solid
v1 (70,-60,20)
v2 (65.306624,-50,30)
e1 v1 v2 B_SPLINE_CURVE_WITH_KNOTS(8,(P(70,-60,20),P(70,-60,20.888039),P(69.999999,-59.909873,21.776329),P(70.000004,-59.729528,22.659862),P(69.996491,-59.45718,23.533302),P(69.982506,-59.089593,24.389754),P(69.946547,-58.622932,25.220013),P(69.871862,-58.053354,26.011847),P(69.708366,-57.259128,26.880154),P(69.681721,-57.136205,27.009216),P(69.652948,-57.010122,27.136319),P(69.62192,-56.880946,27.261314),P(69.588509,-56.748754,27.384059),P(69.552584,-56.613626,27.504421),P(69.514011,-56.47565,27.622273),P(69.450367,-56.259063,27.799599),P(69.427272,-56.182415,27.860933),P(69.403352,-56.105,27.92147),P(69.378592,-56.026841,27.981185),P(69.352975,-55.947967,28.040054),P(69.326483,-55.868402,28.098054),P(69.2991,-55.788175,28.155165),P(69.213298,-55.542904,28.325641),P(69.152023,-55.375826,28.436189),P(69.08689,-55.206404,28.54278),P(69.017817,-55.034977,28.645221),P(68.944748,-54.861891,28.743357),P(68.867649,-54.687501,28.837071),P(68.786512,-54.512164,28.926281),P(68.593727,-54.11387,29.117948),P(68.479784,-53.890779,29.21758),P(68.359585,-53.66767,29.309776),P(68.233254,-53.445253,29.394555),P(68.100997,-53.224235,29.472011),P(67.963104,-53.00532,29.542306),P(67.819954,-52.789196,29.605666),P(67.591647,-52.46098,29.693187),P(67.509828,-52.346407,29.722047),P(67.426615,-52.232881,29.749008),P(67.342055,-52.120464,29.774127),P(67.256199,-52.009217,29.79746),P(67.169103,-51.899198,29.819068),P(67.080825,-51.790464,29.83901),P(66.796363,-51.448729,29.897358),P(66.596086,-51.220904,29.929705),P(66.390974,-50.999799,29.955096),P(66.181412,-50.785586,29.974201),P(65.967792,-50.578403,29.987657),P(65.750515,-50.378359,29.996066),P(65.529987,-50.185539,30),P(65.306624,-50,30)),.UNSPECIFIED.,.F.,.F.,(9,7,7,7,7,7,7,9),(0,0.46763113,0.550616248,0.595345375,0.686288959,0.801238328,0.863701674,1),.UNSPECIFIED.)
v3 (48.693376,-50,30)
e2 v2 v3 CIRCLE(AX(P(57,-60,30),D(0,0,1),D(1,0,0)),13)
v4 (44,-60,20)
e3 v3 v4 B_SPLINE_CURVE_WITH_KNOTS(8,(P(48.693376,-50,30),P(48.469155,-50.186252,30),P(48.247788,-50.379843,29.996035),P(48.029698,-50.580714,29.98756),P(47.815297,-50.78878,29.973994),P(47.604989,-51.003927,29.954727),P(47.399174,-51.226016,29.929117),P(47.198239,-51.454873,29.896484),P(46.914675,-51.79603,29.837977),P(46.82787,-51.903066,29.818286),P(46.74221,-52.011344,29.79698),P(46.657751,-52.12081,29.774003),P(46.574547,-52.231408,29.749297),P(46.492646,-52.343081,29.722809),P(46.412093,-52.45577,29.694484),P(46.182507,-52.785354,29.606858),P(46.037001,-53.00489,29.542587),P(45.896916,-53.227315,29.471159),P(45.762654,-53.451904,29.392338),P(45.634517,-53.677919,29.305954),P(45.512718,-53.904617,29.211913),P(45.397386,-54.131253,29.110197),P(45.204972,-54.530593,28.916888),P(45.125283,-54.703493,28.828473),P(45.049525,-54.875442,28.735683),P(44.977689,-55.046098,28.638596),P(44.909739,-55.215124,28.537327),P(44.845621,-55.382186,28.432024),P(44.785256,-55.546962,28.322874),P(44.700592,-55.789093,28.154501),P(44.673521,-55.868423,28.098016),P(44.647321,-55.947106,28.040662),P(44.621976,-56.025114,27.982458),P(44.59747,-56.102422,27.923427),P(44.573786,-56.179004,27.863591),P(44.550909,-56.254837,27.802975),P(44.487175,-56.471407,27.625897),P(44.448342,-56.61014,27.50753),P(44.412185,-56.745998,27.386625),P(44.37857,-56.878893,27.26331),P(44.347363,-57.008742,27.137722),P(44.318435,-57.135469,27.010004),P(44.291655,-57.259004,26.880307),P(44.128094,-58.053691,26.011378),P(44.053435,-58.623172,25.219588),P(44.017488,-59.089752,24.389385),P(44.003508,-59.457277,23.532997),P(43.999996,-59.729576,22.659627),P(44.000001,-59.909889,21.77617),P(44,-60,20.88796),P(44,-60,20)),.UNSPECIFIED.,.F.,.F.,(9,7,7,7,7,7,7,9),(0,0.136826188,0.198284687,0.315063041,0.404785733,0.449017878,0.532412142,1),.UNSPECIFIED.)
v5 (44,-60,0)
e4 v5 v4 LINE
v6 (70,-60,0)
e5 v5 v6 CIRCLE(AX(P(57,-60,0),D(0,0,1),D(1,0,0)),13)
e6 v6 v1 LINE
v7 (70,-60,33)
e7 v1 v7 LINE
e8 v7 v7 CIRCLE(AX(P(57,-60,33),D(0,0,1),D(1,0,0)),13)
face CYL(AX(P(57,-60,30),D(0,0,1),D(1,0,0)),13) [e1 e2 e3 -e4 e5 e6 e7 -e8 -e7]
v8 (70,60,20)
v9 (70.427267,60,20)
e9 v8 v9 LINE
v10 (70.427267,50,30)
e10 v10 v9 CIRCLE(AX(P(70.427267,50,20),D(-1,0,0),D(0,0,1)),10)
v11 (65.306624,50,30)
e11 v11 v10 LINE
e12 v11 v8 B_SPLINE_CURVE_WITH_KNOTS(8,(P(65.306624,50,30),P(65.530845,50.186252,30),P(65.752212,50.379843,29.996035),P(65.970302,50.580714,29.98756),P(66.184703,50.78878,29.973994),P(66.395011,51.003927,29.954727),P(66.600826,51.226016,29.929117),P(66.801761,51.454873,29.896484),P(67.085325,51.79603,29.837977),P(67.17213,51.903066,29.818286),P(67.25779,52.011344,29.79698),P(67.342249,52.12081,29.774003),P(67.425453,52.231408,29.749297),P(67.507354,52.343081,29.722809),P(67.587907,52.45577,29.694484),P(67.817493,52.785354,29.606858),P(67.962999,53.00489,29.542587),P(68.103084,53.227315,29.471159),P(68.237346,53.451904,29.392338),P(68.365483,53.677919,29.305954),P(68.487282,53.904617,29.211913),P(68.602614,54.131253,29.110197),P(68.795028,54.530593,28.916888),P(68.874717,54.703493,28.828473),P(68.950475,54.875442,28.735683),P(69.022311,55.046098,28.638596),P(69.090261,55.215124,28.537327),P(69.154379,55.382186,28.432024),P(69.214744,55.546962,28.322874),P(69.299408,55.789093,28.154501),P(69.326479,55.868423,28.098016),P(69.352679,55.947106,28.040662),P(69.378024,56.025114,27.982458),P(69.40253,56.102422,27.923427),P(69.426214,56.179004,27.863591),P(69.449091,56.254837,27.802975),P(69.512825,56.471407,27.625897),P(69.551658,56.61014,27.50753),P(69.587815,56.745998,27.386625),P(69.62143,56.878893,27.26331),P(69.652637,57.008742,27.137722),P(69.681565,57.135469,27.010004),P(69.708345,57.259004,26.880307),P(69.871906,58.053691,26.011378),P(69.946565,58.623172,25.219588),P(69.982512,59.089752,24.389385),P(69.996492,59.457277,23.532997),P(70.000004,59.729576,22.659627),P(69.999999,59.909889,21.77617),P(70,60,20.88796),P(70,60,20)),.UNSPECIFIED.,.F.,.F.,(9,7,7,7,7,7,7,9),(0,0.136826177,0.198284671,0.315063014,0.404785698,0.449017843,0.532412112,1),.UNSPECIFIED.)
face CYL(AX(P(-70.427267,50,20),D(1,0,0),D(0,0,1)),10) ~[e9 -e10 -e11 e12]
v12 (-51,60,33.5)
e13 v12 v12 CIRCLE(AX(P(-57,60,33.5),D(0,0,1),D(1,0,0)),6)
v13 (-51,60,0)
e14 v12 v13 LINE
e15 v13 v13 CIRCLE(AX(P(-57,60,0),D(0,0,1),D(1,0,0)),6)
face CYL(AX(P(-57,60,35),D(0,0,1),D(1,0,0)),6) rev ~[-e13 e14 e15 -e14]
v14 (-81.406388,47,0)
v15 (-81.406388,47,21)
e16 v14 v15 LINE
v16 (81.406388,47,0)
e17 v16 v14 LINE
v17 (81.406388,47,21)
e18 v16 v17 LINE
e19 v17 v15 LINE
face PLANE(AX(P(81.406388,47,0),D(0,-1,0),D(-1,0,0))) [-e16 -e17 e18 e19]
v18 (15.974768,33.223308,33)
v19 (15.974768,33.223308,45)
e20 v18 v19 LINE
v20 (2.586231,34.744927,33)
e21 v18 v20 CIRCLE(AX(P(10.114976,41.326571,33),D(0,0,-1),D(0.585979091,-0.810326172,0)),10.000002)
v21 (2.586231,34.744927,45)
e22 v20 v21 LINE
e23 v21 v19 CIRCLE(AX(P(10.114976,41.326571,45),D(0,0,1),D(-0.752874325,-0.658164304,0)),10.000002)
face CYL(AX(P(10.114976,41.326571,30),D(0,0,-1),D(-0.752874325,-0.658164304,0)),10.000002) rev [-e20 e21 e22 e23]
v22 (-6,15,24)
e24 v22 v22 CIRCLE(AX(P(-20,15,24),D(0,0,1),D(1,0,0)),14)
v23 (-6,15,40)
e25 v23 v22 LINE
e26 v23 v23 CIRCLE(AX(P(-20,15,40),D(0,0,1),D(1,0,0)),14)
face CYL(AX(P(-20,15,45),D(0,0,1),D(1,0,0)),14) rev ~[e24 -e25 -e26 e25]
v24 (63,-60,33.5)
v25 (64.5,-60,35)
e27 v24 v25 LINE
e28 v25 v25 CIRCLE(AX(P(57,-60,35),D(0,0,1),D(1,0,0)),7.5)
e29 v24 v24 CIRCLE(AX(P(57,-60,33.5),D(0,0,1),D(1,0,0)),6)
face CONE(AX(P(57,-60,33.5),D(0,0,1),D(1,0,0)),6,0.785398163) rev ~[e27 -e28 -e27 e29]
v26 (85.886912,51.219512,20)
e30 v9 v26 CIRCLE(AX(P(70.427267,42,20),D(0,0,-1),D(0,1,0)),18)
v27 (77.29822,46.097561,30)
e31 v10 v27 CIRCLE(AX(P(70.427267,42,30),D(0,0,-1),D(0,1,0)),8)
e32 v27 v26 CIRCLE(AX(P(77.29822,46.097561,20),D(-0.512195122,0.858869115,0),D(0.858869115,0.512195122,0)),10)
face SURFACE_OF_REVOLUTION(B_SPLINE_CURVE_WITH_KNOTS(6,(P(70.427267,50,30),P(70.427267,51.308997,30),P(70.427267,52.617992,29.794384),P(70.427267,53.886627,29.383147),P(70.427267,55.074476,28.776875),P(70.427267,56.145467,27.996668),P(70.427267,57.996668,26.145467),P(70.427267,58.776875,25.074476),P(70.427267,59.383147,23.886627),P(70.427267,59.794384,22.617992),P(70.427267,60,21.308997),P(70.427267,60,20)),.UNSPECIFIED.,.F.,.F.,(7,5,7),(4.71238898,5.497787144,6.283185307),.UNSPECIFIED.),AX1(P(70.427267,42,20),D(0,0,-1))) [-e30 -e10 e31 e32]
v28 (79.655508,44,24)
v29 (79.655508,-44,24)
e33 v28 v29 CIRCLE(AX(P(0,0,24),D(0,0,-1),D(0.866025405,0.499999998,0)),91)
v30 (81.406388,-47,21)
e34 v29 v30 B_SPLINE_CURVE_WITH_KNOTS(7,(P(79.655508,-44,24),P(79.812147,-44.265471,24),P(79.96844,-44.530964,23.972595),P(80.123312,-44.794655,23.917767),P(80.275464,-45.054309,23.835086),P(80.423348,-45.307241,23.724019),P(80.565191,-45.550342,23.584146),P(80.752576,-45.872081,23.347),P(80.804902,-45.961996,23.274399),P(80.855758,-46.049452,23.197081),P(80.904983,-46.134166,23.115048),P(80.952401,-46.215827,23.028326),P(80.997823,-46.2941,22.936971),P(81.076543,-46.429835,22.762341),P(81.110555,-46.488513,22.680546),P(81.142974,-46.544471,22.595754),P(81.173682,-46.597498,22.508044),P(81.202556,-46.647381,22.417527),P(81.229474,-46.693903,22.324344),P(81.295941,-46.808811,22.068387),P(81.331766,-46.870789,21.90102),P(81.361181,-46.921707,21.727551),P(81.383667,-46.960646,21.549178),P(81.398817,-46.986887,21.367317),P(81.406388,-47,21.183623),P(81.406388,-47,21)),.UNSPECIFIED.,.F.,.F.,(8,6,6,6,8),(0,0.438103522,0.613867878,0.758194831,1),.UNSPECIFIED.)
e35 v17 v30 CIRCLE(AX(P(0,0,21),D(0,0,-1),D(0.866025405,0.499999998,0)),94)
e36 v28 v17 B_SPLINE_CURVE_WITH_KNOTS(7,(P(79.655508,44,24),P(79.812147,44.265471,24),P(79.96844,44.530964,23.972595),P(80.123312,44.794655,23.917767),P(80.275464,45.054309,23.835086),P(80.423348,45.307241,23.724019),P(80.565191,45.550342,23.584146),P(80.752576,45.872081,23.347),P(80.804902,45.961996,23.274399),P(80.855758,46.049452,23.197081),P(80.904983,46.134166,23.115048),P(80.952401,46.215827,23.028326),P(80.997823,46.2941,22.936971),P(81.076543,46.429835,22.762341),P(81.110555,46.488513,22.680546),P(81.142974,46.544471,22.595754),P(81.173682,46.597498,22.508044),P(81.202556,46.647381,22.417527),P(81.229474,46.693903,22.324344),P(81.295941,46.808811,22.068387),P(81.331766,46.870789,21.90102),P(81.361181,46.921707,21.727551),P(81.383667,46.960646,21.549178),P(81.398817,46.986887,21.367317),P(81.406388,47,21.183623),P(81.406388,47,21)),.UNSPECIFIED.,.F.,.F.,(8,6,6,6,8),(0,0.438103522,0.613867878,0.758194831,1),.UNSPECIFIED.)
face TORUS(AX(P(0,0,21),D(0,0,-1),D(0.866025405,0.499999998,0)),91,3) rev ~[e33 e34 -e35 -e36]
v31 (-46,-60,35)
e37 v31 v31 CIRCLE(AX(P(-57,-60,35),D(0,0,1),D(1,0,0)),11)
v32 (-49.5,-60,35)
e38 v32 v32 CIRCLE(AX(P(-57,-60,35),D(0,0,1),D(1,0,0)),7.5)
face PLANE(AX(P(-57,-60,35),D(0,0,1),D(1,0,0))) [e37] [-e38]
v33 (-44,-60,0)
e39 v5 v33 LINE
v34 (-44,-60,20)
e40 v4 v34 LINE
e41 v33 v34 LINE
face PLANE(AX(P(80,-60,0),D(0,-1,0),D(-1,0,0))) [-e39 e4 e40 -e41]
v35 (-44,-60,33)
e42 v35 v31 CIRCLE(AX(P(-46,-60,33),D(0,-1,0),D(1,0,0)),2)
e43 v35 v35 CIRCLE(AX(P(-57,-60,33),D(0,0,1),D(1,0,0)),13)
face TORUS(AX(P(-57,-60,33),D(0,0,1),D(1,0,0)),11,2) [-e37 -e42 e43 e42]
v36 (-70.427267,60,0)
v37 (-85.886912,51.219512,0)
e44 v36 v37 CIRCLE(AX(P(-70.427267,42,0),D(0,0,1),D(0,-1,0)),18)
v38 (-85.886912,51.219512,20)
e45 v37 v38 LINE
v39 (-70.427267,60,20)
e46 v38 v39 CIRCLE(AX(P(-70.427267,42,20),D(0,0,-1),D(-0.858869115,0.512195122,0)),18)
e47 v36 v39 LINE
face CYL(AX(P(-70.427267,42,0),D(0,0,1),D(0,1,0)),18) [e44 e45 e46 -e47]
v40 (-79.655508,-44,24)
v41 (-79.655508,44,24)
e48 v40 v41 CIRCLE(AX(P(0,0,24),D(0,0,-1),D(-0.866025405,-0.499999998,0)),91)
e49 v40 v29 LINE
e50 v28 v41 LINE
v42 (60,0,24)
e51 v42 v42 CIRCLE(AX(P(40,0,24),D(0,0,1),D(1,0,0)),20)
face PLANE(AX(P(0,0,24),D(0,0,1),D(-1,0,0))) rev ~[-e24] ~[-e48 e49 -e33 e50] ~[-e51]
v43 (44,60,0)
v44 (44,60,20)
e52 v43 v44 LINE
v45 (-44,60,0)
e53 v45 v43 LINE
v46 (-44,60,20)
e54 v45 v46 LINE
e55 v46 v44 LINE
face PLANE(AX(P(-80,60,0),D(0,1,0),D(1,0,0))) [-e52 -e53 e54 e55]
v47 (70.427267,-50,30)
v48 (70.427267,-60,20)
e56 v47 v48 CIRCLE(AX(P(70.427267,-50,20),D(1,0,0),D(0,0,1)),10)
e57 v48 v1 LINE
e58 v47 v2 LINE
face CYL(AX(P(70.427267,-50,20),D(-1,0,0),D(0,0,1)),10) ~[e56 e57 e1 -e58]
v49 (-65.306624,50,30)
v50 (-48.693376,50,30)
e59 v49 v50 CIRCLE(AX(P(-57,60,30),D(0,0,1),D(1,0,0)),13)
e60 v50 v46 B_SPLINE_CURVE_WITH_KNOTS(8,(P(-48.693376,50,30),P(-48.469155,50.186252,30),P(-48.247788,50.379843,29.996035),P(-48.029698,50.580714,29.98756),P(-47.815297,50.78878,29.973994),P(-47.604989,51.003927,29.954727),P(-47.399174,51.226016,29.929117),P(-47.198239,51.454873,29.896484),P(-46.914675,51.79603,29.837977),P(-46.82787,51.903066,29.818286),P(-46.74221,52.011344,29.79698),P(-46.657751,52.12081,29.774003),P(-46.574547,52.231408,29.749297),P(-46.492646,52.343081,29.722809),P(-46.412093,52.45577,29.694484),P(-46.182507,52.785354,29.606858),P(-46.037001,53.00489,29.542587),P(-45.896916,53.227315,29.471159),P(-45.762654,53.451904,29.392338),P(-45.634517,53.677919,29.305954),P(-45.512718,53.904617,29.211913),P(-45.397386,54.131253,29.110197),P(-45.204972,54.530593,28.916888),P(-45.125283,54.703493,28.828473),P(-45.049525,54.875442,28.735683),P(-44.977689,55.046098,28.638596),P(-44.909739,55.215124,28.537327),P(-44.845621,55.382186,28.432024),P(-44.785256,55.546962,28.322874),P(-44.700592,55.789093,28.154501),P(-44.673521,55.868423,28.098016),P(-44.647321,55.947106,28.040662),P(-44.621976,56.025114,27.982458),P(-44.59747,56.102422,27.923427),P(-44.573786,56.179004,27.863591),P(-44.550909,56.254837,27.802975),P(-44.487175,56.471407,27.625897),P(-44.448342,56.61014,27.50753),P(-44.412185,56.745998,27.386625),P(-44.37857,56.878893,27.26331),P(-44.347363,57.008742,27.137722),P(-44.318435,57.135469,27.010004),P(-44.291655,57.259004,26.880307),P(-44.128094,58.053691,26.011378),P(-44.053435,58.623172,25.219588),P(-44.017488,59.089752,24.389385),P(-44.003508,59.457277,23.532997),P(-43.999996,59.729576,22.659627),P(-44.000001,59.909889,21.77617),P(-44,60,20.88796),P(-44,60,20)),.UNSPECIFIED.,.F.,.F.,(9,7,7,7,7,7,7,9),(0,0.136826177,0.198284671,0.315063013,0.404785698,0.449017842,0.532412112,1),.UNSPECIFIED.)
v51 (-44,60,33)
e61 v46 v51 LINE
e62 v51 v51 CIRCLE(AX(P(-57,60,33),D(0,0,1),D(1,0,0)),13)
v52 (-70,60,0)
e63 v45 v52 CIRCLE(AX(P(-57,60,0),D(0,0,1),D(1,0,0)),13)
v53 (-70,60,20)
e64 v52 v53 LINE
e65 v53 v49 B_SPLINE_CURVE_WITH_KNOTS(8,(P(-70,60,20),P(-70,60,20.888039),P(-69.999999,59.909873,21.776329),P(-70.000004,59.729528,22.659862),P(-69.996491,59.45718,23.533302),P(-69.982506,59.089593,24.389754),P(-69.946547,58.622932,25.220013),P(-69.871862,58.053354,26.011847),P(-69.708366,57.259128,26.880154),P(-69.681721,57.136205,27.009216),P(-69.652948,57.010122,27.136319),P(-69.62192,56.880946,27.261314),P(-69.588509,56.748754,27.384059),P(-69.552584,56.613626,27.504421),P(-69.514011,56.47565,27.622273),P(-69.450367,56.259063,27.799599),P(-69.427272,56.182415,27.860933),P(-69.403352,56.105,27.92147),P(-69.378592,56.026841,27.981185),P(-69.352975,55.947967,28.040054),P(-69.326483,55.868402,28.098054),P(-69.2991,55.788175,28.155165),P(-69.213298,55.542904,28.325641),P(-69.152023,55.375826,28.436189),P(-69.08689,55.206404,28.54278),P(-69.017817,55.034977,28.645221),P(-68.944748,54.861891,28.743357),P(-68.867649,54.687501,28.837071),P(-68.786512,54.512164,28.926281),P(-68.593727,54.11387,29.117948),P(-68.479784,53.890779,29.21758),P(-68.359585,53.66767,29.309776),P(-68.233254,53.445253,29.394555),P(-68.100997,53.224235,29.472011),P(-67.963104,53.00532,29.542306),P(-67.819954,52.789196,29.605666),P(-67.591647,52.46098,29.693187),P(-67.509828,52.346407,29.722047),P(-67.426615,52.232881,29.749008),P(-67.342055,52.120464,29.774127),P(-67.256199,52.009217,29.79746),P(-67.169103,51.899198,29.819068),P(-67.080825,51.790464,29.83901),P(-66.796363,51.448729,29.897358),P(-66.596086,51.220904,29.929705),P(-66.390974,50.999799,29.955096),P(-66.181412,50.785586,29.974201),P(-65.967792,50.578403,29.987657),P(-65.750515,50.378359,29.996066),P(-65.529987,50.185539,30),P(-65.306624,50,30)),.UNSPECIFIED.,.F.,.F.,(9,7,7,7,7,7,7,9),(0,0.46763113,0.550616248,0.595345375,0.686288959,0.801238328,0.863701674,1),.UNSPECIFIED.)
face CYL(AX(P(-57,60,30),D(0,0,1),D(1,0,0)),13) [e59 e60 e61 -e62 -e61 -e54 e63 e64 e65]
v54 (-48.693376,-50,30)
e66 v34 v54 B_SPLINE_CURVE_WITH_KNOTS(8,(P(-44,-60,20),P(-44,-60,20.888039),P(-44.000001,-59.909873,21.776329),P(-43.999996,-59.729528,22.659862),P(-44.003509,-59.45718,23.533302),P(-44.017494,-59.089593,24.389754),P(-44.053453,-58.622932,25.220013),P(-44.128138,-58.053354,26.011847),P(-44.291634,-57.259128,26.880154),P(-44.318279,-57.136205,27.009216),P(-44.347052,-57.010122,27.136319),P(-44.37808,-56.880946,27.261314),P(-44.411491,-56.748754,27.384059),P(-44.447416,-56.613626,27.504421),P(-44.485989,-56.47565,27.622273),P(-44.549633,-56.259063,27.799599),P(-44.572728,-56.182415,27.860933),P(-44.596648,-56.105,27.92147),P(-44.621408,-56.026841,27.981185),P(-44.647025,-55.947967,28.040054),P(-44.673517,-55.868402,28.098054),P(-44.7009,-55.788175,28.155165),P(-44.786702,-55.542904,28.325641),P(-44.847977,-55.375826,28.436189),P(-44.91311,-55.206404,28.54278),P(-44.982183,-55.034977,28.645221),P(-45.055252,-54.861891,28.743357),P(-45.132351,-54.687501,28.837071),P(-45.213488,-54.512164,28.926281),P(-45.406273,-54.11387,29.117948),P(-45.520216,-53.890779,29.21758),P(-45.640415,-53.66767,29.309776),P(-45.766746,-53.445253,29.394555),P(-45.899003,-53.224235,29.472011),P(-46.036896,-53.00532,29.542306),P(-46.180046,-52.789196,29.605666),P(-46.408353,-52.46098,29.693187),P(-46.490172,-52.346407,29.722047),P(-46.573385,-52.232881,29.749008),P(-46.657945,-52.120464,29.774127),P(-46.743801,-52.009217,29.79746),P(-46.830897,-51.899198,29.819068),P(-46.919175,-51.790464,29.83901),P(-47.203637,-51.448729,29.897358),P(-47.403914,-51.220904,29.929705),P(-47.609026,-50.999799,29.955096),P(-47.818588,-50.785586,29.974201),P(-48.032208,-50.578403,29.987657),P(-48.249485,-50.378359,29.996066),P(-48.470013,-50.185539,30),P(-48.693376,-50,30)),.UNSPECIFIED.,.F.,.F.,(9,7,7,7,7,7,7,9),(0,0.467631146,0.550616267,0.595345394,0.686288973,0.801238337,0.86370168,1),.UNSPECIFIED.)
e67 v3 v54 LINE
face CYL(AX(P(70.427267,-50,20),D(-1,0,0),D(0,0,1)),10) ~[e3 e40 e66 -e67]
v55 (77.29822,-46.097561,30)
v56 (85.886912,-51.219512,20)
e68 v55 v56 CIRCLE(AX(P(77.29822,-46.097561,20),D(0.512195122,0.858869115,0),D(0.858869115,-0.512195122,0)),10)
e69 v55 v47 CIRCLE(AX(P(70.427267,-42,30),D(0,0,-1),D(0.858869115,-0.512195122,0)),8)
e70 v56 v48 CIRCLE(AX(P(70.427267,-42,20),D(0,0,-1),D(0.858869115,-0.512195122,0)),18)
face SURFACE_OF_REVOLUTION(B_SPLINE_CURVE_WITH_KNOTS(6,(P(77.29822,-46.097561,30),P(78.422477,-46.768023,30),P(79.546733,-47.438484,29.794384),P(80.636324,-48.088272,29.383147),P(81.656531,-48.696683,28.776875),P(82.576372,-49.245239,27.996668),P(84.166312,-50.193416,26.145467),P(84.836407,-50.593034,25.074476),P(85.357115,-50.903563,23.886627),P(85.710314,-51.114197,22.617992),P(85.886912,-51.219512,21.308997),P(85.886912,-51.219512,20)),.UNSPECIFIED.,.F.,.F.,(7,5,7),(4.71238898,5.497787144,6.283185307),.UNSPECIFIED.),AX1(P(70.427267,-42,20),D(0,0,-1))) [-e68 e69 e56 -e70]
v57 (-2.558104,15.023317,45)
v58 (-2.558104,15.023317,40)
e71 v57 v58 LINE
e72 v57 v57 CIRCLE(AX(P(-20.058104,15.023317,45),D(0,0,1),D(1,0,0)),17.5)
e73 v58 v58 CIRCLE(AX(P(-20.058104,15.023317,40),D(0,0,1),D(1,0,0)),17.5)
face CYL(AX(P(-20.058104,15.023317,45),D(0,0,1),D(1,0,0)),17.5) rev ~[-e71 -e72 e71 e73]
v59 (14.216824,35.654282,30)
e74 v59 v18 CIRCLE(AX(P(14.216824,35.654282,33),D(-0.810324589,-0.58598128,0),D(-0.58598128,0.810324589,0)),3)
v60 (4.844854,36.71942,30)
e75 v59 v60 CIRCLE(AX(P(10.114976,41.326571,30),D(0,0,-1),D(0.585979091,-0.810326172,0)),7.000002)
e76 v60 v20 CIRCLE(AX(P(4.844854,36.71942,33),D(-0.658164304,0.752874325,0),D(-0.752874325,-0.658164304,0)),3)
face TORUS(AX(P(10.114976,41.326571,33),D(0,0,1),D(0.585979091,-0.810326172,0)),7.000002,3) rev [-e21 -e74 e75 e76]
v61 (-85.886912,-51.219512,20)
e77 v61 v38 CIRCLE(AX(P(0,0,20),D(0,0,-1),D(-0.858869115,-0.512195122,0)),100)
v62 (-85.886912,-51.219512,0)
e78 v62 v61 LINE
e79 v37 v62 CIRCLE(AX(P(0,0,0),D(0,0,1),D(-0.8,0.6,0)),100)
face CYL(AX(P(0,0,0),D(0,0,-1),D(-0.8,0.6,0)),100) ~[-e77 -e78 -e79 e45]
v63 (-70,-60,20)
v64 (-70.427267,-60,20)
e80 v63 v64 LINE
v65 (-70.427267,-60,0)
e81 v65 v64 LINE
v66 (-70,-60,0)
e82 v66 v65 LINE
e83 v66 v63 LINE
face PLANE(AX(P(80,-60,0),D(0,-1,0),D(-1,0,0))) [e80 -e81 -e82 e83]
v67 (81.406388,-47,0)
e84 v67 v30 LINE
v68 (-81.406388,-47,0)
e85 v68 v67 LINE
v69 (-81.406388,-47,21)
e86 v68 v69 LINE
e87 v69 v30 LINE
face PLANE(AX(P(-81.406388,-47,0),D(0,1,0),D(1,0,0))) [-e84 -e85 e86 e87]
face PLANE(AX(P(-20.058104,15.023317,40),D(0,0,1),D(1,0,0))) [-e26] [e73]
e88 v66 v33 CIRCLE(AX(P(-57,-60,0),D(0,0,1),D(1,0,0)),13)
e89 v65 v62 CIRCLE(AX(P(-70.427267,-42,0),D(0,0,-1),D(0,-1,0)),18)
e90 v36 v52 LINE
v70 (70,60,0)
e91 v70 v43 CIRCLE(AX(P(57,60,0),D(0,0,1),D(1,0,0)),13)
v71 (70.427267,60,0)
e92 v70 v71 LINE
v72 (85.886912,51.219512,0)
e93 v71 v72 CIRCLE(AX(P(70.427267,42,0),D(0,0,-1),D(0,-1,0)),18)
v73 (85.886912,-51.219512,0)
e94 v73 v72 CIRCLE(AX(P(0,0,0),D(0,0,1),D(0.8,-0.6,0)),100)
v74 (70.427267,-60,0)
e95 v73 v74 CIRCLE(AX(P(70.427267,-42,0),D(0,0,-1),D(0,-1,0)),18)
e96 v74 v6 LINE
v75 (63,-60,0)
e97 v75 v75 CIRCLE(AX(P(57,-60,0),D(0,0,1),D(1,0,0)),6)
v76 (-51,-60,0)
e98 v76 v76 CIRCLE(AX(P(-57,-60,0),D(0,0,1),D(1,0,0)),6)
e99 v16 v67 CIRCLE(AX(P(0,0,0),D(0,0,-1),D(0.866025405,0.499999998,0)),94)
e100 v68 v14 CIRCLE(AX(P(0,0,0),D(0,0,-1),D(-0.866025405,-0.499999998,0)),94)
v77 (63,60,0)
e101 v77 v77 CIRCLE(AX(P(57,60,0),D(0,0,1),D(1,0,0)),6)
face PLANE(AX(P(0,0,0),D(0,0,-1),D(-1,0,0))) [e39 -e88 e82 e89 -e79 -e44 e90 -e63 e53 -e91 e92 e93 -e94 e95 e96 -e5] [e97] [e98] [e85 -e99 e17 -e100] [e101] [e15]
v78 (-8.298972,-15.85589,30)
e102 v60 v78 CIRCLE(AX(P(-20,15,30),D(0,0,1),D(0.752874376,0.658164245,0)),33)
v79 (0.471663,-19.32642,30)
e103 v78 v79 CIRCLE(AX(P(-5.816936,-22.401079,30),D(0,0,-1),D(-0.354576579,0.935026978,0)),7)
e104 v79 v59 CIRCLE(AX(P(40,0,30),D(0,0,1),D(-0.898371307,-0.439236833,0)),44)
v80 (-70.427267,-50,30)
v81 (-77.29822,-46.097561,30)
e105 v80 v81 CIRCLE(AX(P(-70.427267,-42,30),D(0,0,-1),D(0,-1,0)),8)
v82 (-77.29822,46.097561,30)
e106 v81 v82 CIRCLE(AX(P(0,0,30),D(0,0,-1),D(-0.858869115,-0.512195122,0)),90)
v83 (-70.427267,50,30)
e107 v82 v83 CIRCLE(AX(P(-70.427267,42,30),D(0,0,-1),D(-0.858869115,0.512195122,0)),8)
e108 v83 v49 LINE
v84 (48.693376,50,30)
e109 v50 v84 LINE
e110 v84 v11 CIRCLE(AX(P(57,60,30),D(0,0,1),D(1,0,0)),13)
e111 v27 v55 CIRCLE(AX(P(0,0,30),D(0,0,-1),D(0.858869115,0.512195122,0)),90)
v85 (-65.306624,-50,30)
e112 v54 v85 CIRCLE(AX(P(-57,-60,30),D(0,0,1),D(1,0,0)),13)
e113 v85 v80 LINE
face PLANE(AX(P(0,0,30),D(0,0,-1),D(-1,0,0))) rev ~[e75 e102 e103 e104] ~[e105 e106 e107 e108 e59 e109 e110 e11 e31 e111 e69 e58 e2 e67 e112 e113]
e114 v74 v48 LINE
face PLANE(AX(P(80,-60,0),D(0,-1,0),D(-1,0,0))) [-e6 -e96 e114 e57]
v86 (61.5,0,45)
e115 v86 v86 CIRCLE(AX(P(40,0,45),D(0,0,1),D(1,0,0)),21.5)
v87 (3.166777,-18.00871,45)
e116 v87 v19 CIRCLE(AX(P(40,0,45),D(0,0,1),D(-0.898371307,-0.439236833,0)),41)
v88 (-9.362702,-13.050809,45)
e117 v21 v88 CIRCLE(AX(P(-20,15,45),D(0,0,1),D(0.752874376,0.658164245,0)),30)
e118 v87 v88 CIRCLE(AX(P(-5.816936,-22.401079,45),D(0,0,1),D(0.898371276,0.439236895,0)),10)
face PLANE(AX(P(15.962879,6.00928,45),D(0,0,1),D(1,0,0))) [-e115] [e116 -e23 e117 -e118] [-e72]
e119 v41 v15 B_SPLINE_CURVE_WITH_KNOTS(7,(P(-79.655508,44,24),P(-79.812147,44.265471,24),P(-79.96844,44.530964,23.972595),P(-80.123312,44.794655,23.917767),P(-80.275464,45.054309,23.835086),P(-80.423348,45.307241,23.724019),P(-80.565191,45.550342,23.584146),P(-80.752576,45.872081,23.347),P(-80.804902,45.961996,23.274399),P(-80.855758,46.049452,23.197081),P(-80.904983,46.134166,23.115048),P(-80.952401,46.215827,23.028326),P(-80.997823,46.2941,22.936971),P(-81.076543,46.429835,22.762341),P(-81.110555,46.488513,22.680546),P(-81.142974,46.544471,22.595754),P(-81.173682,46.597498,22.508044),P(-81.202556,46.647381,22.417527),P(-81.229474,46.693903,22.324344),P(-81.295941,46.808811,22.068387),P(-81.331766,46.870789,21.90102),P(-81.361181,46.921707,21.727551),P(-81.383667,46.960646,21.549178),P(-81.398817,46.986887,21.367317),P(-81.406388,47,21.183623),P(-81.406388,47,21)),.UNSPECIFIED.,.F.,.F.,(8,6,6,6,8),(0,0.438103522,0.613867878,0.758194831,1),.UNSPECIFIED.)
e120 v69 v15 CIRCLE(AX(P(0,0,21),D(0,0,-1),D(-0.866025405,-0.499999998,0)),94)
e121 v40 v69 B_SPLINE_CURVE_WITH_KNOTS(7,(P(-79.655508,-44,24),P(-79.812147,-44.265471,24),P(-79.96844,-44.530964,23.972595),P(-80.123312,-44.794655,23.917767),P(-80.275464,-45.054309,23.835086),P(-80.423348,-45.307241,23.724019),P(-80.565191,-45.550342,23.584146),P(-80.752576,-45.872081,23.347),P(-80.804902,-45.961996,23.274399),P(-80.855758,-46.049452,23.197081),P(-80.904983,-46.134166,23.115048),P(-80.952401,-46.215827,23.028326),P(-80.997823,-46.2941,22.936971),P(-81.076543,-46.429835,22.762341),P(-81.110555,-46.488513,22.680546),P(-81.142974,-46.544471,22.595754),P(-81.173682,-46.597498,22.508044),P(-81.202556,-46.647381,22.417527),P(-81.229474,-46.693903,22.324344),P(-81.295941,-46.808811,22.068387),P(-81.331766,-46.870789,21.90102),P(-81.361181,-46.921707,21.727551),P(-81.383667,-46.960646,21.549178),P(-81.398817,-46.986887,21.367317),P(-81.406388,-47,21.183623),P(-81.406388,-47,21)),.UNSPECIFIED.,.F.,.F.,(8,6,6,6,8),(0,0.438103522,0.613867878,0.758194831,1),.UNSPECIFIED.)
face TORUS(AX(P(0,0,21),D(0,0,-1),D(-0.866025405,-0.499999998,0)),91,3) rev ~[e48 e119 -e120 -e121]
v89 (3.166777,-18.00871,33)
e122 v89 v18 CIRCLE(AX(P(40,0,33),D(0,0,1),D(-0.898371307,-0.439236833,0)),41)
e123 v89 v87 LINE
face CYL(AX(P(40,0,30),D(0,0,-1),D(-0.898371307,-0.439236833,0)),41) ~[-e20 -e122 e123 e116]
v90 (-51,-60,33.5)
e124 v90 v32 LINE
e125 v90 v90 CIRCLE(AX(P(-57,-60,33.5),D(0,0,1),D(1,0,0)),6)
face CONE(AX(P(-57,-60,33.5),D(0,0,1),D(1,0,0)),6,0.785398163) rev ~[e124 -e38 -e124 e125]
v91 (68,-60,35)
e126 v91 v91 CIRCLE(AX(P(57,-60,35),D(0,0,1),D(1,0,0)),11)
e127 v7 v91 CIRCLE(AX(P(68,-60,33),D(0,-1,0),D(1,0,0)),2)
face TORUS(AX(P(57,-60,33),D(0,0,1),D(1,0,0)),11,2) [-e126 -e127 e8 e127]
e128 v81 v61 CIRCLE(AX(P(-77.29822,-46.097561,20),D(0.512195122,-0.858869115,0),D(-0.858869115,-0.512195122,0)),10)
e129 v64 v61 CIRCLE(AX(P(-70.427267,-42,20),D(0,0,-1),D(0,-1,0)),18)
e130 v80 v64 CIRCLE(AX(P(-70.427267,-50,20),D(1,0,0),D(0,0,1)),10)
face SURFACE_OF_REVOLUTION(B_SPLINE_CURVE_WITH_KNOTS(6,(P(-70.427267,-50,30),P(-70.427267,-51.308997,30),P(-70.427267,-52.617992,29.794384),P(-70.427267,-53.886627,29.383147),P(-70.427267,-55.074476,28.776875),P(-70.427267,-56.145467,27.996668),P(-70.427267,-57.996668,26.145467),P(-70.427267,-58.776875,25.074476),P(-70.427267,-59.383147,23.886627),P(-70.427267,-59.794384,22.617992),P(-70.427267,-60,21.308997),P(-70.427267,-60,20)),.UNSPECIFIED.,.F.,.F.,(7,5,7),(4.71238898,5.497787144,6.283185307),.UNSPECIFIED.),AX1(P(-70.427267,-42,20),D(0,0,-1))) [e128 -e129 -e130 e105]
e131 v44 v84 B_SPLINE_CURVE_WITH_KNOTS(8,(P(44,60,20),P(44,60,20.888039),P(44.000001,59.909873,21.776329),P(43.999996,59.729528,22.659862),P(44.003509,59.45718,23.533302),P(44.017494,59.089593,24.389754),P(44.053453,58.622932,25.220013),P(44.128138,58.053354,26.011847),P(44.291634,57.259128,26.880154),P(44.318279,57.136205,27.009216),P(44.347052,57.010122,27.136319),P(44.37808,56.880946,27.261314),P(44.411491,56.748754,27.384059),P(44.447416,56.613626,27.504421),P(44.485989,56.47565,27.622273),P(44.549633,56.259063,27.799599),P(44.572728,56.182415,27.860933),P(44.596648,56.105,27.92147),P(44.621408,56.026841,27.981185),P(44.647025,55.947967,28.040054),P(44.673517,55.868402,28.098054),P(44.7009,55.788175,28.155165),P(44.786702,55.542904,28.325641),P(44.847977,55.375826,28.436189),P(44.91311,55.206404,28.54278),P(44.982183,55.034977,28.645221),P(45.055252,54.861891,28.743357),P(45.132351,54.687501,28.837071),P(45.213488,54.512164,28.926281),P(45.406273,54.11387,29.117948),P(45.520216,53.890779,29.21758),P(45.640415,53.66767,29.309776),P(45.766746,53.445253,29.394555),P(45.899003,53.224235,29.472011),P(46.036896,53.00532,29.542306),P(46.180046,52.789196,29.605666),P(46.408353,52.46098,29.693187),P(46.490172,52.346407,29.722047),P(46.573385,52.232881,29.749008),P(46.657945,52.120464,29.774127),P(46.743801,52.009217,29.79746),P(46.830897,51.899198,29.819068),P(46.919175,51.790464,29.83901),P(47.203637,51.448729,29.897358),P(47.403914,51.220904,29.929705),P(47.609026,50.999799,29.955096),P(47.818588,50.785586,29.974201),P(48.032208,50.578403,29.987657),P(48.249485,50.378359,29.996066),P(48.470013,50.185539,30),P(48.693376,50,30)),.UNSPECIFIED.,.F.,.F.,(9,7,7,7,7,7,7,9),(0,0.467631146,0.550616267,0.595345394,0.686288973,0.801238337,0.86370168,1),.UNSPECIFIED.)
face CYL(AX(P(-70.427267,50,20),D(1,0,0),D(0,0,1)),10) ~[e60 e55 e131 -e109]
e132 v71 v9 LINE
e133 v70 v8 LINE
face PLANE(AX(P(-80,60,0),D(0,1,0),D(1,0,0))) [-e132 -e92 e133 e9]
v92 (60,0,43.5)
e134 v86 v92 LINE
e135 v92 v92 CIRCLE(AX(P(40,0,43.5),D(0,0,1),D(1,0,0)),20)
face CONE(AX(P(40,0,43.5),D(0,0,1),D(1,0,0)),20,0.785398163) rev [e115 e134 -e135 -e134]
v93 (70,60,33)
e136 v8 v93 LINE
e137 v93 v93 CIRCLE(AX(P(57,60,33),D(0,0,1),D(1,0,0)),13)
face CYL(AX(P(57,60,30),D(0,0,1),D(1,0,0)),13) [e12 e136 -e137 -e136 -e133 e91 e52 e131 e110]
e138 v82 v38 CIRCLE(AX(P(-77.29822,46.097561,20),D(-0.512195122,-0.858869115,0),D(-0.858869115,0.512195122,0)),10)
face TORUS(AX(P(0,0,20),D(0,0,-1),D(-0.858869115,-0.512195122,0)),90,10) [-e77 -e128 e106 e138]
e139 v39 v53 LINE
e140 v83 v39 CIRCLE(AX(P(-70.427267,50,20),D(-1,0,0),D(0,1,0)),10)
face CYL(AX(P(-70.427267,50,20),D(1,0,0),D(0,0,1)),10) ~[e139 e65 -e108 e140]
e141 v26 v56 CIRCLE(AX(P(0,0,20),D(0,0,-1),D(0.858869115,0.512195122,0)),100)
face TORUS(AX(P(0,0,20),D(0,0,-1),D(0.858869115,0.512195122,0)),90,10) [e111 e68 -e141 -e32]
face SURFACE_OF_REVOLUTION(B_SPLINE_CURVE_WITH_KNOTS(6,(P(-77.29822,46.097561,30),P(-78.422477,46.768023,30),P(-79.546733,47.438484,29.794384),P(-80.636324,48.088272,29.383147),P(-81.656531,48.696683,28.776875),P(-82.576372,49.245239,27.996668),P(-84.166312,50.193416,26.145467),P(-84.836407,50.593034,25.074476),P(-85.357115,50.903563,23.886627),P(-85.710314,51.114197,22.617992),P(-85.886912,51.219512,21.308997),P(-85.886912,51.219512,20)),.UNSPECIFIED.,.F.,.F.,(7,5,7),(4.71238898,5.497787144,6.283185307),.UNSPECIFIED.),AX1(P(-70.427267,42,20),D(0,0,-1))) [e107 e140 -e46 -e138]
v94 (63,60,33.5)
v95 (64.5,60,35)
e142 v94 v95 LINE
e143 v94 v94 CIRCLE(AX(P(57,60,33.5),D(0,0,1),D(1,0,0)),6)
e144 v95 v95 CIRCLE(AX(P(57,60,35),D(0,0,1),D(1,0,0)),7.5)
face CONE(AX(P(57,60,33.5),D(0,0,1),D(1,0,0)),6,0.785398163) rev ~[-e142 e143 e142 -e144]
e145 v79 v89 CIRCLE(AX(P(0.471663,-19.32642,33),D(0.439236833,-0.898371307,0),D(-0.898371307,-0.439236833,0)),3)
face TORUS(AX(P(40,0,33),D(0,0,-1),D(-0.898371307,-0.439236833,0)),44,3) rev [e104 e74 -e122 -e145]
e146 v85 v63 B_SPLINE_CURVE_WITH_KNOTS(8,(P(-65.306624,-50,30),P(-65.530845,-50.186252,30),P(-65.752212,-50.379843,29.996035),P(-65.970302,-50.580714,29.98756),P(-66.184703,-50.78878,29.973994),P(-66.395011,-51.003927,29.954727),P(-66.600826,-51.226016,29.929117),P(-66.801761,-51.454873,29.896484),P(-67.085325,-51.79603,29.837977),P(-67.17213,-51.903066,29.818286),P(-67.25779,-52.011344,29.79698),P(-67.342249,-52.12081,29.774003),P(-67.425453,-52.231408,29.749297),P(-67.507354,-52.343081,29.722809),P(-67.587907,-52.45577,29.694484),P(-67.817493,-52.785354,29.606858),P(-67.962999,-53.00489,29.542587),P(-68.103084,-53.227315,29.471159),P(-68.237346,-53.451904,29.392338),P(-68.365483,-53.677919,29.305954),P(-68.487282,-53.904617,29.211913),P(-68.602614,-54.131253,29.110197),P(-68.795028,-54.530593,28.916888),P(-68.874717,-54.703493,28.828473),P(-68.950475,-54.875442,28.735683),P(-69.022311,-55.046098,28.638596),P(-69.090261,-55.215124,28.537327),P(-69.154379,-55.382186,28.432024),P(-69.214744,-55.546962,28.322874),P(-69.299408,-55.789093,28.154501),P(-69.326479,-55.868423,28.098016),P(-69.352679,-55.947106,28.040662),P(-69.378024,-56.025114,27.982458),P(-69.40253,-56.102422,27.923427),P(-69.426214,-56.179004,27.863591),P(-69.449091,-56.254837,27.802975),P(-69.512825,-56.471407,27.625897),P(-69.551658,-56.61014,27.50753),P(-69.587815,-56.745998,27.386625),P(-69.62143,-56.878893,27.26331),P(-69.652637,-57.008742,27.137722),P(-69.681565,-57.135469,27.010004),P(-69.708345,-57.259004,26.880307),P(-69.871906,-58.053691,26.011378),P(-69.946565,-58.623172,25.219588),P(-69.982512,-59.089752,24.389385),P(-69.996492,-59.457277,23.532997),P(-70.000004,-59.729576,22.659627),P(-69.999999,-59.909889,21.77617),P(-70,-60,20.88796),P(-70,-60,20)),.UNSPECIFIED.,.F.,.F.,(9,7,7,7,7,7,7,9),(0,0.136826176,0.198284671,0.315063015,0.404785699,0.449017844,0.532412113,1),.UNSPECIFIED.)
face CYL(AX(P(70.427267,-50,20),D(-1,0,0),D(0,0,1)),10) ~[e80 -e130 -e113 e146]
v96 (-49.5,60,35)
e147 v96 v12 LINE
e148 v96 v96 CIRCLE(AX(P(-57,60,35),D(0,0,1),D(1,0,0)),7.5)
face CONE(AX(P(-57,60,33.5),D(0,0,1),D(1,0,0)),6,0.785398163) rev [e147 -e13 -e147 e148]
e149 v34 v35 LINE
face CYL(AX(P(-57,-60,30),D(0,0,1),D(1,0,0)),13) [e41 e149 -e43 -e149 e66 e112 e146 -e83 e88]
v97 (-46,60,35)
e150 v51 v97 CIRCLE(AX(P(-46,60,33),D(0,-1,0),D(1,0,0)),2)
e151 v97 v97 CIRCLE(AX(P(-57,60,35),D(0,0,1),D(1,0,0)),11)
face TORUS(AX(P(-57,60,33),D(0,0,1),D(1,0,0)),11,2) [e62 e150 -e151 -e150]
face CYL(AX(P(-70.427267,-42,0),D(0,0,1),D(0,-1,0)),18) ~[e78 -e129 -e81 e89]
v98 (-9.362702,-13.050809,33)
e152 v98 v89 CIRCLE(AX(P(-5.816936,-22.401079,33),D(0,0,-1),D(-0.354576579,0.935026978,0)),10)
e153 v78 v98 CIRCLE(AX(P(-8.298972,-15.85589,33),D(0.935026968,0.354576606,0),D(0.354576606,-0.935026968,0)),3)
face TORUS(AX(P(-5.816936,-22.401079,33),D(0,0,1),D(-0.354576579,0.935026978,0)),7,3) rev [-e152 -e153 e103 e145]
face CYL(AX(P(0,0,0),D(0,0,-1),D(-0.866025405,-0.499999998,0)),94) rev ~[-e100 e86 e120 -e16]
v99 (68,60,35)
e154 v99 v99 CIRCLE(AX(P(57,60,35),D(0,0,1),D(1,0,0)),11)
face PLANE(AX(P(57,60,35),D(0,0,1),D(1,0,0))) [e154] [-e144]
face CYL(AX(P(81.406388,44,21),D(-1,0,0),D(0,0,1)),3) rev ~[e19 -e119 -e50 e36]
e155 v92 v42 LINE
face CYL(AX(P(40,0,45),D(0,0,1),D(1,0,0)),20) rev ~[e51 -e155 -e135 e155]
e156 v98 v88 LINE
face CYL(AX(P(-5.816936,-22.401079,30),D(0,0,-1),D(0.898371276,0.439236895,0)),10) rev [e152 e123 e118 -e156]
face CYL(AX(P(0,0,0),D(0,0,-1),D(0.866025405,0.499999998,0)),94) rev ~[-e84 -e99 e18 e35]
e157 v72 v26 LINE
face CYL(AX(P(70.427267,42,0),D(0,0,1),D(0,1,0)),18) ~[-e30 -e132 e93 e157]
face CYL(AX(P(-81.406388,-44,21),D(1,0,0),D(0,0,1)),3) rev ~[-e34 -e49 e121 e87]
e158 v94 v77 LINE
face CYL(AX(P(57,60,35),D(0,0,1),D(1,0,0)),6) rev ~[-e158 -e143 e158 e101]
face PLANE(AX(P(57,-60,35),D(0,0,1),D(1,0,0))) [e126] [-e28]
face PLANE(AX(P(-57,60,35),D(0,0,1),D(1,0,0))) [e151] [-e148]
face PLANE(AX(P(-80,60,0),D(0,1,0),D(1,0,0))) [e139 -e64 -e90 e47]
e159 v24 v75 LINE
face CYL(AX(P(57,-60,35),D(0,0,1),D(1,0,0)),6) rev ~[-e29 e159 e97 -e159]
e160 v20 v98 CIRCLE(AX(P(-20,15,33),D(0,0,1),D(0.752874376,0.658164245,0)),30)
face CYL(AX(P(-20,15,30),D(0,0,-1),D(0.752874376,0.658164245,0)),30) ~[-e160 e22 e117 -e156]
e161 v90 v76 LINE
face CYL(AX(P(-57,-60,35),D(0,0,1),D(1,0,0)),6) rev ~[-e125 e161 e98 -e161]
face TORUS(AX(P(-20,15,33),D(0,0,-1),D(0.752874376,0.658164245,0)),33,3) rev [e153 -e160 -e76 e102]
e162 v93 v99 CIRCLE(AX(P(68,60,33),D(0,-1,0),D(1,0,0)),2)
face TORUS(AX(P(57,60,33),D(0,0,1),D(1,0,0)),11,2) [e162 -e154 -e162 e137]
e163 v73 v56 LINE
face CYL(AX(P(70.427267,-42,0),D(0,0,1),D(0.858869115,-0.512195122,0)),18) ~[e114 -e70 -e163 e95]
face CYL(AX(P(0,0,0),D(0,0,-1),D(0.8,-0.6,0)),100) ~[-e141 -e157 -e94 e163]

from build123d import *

# Parameters (mm, degrees)
SKETCH001_R       = 13
PAD001_DEPTH      = 5
PAD001_DEPTH_BACK = 30
PAD_DEPTH         = 30
FILLET_R          = 18
FILLET001_R       = 10
SKETCH002_R       = 6
POCKET_DEPTH      = 35.001
FILLET002_R       = 2
CHAMFER_SIZE      = 1.5
PAD002_DEPTH      = 15
FILLET003_R       = 3
SKETCH004_R       = 14
SKETCH004_R_2     = 20
POCKET001_DEPTH   = 45.001
SKETCH005_R       = 17.5
POCKET002_DEPTH   = 5
CHAMFER001_SIZE   = 1.5
POCKET003_DEPTH   = 24
FILLET004_R       = 3


with BuildPart() as pad001:
    # Sketch001 → Pad001 (new body, two sides)
    with BuildSketch(Plane.XY.offset(30)) as pad001_sk:
        with Locations((-57, -60)):
            Circle(SKETCH001_R)
        with Locations((57, -60)):
            Circle(SKETCH001_R)
        with Locations((-57, 60)):
            Circle(SKETCH001_R)
        with Locations((57, 60)):
            Circle(SKETCH001_R)
    extrude(amount=PAD001_DEPTH)
    extrude(pad001_sk.sketch, amount=-PAD001_DEPTH_BACK)


with BuildPart() as fillet004:
    # Sketch → Pad (new body)
    with BuildSketch(Plane.XY):
        with BuildLine():
            Line((-80, 60), (80, 60))
            ThreePointArc((80, -60), (100, 0), (80, 60))
            Line((80, -60), (-80, -60))
            ThreePointArc((-80, 60), (-100, 0), (-80, -60))
        make_face()
    extrude(amount=PAD_DEPTH)

    # Fillet
    fillet_edges = [fillet004.edges().sort_by_distance(p)[0] for p in [
        (80, -60, 15),
        (-80, -60, 15),
        (-80, 60, 15),
        (80, 60, 15),
    ]]
    fillet(fillet_edges, radius=FILLET_R)

    # Fillet001
    fillet001_edges = [fillet004.edges().sort_by_distance(p)[0] for p in [
        (0, -60, 30),
        (79.316834, -57.651697, 30),
        (-79.316834, -57.651697, 30),
        (100, 0, 30),
        (-100, 0, 30),
        (79.316834, 57.651697, 30),
        (-79.316834, 57.651697, 30),
        (0, 60, 30),
    ]]
    fillet(fillet001_edges, radius=FILLET001_R)

    # Fusion: union Pad001
    add(pad001.part)

    # Sketch002 → Pocket (cut, through all)
    with BuildSketch(Plane.XY.offset(35)):
        with Locations((-57, -60)):
            Circle(SKETCH002_R)
        with Locations((-57, 60)):
            Circle(SKETCH002_R)
        with Locations((57, 60)):
            Circle(SKETCH002_R)
        with Locations((57, -60)):
            Circle(SKETCH002_R)
    extrude(amount=-POCKET_DEPTH, mode=Mode.SUBTRACT)

    # Fillet002
    fillet002_edges = [fillet004.edges().sort_by_distance(p)[0] for p in [
        (-70, -60, 35),
        (-70, 60, 35),
        (44, 60, 35),
        (44, -60, 35),
    ]]
    fillet(fillet002_edges, radius=FILLET002_R)

    # Chamfer
    chamfer_edges = [fillet004.edges().sort_by_distance(p)[0] for p in [
        (-63, 60, 35),
        (51, 60, 35),
        (51, -60, 35),
        (-63, -60, 35),
    ]]
    chamfer(chamfer_edges, length=CHAMFER_SIZE)

    # Sketch003 → Pad002 (new body)
    with BuildSketch(Plane.XY.offset(30)):
        with BuildLine():
            ThreePointArc((3.166777, -18.00871), (79.775845, -9.943951), (15.974768, 33.223308))
            ThreePointArc((2.586231, 34.744927), (8.985736, 31.390533), (15.974768, 33.223308))
            ThreePointArc((2.586231, 34.744927), (-49.104275, 22.276068), (-9.362702, -13.050809))
            ThreePointArc((3.166777, -18.00871), (-2.137532, -13.102585), (-9.362702, -13.050809))
        make_face()
    extrude(amount=PAD002_DEPTH)

    # Fillet003
    fillet003_edges = [fillet004.edges().sort_by_distance(p)[0] for p in [
        (79.775845, -9.943951, 30),
        (-2.137532, -13.102585, 30),
        (-49.104275, 22.276068, 30),
        (8.985736, 31.390533, 30),
    ]]
    fillet(fillet003_edges, radius=FILLET003_R)

    # Sketch004 → Pocket001 (cut, through all)
    with BuildSketch(Plane.XY.offset(45)):
        with Locations((-20, 15)):
            Circle(SKETCH004_R)
        with Locations((40, 0)):
            Circle(SKETCH004_R_2)
    extrude(amount=-POCKET001_DEPTH, mode=Mode.SUBTRACT)

    # Sketch005 → Pocket002 (cut)
    with BuildSketch(Plane.XY.offset(45)):
        with Locations((-20.058104, 15.023317)):
            Circle(SKETCH005_R)
    extrude(amount=-POCKET002_DEPTH, mode=Mode.SUBTRACT)

    # Chamfer001
    chamfer001_edges = [fillet004.edges().sort_by_distance(p)[0] for p in [
        (20, 0, 45),
    ]]
    chamfer(chamfer001_edges, length=CHAMFER001_SIZE)

    # Sketch006 → Pocket003 (cut)
    with BuildSketch(Plane(origin=(0, 0, 0), x_dir=(1, 0, 0), z_dir=(0, 0, -1))):
        with BuildLine():
            Line((-81.406388, 47), (81.406388, 47))
            ThreePointArc((81.406388, -47), (94, 0), (81.406388, 47))
            Line((81.406388, -47), (-81.406388, -47))
            ThreePointArc((-81.406388, 47), (-94, 0), (-81.406388, -47))
        make_face()
    extrude(amount=-POCKET003_DEPTH, mode=Mode.SUBTRACT)

    # Fillet004
    fillet004_edges = [fillet004.edges().sort_by_distance(p)[0] for p in [
        (0, -47, 24),
        (94, 0, 24),
        (-94, 0, 24),
        (0, 47, 24),
    ]]
    fillet(fillet004_edges, radius=FILLET004_R)


solid = fillet004.part
